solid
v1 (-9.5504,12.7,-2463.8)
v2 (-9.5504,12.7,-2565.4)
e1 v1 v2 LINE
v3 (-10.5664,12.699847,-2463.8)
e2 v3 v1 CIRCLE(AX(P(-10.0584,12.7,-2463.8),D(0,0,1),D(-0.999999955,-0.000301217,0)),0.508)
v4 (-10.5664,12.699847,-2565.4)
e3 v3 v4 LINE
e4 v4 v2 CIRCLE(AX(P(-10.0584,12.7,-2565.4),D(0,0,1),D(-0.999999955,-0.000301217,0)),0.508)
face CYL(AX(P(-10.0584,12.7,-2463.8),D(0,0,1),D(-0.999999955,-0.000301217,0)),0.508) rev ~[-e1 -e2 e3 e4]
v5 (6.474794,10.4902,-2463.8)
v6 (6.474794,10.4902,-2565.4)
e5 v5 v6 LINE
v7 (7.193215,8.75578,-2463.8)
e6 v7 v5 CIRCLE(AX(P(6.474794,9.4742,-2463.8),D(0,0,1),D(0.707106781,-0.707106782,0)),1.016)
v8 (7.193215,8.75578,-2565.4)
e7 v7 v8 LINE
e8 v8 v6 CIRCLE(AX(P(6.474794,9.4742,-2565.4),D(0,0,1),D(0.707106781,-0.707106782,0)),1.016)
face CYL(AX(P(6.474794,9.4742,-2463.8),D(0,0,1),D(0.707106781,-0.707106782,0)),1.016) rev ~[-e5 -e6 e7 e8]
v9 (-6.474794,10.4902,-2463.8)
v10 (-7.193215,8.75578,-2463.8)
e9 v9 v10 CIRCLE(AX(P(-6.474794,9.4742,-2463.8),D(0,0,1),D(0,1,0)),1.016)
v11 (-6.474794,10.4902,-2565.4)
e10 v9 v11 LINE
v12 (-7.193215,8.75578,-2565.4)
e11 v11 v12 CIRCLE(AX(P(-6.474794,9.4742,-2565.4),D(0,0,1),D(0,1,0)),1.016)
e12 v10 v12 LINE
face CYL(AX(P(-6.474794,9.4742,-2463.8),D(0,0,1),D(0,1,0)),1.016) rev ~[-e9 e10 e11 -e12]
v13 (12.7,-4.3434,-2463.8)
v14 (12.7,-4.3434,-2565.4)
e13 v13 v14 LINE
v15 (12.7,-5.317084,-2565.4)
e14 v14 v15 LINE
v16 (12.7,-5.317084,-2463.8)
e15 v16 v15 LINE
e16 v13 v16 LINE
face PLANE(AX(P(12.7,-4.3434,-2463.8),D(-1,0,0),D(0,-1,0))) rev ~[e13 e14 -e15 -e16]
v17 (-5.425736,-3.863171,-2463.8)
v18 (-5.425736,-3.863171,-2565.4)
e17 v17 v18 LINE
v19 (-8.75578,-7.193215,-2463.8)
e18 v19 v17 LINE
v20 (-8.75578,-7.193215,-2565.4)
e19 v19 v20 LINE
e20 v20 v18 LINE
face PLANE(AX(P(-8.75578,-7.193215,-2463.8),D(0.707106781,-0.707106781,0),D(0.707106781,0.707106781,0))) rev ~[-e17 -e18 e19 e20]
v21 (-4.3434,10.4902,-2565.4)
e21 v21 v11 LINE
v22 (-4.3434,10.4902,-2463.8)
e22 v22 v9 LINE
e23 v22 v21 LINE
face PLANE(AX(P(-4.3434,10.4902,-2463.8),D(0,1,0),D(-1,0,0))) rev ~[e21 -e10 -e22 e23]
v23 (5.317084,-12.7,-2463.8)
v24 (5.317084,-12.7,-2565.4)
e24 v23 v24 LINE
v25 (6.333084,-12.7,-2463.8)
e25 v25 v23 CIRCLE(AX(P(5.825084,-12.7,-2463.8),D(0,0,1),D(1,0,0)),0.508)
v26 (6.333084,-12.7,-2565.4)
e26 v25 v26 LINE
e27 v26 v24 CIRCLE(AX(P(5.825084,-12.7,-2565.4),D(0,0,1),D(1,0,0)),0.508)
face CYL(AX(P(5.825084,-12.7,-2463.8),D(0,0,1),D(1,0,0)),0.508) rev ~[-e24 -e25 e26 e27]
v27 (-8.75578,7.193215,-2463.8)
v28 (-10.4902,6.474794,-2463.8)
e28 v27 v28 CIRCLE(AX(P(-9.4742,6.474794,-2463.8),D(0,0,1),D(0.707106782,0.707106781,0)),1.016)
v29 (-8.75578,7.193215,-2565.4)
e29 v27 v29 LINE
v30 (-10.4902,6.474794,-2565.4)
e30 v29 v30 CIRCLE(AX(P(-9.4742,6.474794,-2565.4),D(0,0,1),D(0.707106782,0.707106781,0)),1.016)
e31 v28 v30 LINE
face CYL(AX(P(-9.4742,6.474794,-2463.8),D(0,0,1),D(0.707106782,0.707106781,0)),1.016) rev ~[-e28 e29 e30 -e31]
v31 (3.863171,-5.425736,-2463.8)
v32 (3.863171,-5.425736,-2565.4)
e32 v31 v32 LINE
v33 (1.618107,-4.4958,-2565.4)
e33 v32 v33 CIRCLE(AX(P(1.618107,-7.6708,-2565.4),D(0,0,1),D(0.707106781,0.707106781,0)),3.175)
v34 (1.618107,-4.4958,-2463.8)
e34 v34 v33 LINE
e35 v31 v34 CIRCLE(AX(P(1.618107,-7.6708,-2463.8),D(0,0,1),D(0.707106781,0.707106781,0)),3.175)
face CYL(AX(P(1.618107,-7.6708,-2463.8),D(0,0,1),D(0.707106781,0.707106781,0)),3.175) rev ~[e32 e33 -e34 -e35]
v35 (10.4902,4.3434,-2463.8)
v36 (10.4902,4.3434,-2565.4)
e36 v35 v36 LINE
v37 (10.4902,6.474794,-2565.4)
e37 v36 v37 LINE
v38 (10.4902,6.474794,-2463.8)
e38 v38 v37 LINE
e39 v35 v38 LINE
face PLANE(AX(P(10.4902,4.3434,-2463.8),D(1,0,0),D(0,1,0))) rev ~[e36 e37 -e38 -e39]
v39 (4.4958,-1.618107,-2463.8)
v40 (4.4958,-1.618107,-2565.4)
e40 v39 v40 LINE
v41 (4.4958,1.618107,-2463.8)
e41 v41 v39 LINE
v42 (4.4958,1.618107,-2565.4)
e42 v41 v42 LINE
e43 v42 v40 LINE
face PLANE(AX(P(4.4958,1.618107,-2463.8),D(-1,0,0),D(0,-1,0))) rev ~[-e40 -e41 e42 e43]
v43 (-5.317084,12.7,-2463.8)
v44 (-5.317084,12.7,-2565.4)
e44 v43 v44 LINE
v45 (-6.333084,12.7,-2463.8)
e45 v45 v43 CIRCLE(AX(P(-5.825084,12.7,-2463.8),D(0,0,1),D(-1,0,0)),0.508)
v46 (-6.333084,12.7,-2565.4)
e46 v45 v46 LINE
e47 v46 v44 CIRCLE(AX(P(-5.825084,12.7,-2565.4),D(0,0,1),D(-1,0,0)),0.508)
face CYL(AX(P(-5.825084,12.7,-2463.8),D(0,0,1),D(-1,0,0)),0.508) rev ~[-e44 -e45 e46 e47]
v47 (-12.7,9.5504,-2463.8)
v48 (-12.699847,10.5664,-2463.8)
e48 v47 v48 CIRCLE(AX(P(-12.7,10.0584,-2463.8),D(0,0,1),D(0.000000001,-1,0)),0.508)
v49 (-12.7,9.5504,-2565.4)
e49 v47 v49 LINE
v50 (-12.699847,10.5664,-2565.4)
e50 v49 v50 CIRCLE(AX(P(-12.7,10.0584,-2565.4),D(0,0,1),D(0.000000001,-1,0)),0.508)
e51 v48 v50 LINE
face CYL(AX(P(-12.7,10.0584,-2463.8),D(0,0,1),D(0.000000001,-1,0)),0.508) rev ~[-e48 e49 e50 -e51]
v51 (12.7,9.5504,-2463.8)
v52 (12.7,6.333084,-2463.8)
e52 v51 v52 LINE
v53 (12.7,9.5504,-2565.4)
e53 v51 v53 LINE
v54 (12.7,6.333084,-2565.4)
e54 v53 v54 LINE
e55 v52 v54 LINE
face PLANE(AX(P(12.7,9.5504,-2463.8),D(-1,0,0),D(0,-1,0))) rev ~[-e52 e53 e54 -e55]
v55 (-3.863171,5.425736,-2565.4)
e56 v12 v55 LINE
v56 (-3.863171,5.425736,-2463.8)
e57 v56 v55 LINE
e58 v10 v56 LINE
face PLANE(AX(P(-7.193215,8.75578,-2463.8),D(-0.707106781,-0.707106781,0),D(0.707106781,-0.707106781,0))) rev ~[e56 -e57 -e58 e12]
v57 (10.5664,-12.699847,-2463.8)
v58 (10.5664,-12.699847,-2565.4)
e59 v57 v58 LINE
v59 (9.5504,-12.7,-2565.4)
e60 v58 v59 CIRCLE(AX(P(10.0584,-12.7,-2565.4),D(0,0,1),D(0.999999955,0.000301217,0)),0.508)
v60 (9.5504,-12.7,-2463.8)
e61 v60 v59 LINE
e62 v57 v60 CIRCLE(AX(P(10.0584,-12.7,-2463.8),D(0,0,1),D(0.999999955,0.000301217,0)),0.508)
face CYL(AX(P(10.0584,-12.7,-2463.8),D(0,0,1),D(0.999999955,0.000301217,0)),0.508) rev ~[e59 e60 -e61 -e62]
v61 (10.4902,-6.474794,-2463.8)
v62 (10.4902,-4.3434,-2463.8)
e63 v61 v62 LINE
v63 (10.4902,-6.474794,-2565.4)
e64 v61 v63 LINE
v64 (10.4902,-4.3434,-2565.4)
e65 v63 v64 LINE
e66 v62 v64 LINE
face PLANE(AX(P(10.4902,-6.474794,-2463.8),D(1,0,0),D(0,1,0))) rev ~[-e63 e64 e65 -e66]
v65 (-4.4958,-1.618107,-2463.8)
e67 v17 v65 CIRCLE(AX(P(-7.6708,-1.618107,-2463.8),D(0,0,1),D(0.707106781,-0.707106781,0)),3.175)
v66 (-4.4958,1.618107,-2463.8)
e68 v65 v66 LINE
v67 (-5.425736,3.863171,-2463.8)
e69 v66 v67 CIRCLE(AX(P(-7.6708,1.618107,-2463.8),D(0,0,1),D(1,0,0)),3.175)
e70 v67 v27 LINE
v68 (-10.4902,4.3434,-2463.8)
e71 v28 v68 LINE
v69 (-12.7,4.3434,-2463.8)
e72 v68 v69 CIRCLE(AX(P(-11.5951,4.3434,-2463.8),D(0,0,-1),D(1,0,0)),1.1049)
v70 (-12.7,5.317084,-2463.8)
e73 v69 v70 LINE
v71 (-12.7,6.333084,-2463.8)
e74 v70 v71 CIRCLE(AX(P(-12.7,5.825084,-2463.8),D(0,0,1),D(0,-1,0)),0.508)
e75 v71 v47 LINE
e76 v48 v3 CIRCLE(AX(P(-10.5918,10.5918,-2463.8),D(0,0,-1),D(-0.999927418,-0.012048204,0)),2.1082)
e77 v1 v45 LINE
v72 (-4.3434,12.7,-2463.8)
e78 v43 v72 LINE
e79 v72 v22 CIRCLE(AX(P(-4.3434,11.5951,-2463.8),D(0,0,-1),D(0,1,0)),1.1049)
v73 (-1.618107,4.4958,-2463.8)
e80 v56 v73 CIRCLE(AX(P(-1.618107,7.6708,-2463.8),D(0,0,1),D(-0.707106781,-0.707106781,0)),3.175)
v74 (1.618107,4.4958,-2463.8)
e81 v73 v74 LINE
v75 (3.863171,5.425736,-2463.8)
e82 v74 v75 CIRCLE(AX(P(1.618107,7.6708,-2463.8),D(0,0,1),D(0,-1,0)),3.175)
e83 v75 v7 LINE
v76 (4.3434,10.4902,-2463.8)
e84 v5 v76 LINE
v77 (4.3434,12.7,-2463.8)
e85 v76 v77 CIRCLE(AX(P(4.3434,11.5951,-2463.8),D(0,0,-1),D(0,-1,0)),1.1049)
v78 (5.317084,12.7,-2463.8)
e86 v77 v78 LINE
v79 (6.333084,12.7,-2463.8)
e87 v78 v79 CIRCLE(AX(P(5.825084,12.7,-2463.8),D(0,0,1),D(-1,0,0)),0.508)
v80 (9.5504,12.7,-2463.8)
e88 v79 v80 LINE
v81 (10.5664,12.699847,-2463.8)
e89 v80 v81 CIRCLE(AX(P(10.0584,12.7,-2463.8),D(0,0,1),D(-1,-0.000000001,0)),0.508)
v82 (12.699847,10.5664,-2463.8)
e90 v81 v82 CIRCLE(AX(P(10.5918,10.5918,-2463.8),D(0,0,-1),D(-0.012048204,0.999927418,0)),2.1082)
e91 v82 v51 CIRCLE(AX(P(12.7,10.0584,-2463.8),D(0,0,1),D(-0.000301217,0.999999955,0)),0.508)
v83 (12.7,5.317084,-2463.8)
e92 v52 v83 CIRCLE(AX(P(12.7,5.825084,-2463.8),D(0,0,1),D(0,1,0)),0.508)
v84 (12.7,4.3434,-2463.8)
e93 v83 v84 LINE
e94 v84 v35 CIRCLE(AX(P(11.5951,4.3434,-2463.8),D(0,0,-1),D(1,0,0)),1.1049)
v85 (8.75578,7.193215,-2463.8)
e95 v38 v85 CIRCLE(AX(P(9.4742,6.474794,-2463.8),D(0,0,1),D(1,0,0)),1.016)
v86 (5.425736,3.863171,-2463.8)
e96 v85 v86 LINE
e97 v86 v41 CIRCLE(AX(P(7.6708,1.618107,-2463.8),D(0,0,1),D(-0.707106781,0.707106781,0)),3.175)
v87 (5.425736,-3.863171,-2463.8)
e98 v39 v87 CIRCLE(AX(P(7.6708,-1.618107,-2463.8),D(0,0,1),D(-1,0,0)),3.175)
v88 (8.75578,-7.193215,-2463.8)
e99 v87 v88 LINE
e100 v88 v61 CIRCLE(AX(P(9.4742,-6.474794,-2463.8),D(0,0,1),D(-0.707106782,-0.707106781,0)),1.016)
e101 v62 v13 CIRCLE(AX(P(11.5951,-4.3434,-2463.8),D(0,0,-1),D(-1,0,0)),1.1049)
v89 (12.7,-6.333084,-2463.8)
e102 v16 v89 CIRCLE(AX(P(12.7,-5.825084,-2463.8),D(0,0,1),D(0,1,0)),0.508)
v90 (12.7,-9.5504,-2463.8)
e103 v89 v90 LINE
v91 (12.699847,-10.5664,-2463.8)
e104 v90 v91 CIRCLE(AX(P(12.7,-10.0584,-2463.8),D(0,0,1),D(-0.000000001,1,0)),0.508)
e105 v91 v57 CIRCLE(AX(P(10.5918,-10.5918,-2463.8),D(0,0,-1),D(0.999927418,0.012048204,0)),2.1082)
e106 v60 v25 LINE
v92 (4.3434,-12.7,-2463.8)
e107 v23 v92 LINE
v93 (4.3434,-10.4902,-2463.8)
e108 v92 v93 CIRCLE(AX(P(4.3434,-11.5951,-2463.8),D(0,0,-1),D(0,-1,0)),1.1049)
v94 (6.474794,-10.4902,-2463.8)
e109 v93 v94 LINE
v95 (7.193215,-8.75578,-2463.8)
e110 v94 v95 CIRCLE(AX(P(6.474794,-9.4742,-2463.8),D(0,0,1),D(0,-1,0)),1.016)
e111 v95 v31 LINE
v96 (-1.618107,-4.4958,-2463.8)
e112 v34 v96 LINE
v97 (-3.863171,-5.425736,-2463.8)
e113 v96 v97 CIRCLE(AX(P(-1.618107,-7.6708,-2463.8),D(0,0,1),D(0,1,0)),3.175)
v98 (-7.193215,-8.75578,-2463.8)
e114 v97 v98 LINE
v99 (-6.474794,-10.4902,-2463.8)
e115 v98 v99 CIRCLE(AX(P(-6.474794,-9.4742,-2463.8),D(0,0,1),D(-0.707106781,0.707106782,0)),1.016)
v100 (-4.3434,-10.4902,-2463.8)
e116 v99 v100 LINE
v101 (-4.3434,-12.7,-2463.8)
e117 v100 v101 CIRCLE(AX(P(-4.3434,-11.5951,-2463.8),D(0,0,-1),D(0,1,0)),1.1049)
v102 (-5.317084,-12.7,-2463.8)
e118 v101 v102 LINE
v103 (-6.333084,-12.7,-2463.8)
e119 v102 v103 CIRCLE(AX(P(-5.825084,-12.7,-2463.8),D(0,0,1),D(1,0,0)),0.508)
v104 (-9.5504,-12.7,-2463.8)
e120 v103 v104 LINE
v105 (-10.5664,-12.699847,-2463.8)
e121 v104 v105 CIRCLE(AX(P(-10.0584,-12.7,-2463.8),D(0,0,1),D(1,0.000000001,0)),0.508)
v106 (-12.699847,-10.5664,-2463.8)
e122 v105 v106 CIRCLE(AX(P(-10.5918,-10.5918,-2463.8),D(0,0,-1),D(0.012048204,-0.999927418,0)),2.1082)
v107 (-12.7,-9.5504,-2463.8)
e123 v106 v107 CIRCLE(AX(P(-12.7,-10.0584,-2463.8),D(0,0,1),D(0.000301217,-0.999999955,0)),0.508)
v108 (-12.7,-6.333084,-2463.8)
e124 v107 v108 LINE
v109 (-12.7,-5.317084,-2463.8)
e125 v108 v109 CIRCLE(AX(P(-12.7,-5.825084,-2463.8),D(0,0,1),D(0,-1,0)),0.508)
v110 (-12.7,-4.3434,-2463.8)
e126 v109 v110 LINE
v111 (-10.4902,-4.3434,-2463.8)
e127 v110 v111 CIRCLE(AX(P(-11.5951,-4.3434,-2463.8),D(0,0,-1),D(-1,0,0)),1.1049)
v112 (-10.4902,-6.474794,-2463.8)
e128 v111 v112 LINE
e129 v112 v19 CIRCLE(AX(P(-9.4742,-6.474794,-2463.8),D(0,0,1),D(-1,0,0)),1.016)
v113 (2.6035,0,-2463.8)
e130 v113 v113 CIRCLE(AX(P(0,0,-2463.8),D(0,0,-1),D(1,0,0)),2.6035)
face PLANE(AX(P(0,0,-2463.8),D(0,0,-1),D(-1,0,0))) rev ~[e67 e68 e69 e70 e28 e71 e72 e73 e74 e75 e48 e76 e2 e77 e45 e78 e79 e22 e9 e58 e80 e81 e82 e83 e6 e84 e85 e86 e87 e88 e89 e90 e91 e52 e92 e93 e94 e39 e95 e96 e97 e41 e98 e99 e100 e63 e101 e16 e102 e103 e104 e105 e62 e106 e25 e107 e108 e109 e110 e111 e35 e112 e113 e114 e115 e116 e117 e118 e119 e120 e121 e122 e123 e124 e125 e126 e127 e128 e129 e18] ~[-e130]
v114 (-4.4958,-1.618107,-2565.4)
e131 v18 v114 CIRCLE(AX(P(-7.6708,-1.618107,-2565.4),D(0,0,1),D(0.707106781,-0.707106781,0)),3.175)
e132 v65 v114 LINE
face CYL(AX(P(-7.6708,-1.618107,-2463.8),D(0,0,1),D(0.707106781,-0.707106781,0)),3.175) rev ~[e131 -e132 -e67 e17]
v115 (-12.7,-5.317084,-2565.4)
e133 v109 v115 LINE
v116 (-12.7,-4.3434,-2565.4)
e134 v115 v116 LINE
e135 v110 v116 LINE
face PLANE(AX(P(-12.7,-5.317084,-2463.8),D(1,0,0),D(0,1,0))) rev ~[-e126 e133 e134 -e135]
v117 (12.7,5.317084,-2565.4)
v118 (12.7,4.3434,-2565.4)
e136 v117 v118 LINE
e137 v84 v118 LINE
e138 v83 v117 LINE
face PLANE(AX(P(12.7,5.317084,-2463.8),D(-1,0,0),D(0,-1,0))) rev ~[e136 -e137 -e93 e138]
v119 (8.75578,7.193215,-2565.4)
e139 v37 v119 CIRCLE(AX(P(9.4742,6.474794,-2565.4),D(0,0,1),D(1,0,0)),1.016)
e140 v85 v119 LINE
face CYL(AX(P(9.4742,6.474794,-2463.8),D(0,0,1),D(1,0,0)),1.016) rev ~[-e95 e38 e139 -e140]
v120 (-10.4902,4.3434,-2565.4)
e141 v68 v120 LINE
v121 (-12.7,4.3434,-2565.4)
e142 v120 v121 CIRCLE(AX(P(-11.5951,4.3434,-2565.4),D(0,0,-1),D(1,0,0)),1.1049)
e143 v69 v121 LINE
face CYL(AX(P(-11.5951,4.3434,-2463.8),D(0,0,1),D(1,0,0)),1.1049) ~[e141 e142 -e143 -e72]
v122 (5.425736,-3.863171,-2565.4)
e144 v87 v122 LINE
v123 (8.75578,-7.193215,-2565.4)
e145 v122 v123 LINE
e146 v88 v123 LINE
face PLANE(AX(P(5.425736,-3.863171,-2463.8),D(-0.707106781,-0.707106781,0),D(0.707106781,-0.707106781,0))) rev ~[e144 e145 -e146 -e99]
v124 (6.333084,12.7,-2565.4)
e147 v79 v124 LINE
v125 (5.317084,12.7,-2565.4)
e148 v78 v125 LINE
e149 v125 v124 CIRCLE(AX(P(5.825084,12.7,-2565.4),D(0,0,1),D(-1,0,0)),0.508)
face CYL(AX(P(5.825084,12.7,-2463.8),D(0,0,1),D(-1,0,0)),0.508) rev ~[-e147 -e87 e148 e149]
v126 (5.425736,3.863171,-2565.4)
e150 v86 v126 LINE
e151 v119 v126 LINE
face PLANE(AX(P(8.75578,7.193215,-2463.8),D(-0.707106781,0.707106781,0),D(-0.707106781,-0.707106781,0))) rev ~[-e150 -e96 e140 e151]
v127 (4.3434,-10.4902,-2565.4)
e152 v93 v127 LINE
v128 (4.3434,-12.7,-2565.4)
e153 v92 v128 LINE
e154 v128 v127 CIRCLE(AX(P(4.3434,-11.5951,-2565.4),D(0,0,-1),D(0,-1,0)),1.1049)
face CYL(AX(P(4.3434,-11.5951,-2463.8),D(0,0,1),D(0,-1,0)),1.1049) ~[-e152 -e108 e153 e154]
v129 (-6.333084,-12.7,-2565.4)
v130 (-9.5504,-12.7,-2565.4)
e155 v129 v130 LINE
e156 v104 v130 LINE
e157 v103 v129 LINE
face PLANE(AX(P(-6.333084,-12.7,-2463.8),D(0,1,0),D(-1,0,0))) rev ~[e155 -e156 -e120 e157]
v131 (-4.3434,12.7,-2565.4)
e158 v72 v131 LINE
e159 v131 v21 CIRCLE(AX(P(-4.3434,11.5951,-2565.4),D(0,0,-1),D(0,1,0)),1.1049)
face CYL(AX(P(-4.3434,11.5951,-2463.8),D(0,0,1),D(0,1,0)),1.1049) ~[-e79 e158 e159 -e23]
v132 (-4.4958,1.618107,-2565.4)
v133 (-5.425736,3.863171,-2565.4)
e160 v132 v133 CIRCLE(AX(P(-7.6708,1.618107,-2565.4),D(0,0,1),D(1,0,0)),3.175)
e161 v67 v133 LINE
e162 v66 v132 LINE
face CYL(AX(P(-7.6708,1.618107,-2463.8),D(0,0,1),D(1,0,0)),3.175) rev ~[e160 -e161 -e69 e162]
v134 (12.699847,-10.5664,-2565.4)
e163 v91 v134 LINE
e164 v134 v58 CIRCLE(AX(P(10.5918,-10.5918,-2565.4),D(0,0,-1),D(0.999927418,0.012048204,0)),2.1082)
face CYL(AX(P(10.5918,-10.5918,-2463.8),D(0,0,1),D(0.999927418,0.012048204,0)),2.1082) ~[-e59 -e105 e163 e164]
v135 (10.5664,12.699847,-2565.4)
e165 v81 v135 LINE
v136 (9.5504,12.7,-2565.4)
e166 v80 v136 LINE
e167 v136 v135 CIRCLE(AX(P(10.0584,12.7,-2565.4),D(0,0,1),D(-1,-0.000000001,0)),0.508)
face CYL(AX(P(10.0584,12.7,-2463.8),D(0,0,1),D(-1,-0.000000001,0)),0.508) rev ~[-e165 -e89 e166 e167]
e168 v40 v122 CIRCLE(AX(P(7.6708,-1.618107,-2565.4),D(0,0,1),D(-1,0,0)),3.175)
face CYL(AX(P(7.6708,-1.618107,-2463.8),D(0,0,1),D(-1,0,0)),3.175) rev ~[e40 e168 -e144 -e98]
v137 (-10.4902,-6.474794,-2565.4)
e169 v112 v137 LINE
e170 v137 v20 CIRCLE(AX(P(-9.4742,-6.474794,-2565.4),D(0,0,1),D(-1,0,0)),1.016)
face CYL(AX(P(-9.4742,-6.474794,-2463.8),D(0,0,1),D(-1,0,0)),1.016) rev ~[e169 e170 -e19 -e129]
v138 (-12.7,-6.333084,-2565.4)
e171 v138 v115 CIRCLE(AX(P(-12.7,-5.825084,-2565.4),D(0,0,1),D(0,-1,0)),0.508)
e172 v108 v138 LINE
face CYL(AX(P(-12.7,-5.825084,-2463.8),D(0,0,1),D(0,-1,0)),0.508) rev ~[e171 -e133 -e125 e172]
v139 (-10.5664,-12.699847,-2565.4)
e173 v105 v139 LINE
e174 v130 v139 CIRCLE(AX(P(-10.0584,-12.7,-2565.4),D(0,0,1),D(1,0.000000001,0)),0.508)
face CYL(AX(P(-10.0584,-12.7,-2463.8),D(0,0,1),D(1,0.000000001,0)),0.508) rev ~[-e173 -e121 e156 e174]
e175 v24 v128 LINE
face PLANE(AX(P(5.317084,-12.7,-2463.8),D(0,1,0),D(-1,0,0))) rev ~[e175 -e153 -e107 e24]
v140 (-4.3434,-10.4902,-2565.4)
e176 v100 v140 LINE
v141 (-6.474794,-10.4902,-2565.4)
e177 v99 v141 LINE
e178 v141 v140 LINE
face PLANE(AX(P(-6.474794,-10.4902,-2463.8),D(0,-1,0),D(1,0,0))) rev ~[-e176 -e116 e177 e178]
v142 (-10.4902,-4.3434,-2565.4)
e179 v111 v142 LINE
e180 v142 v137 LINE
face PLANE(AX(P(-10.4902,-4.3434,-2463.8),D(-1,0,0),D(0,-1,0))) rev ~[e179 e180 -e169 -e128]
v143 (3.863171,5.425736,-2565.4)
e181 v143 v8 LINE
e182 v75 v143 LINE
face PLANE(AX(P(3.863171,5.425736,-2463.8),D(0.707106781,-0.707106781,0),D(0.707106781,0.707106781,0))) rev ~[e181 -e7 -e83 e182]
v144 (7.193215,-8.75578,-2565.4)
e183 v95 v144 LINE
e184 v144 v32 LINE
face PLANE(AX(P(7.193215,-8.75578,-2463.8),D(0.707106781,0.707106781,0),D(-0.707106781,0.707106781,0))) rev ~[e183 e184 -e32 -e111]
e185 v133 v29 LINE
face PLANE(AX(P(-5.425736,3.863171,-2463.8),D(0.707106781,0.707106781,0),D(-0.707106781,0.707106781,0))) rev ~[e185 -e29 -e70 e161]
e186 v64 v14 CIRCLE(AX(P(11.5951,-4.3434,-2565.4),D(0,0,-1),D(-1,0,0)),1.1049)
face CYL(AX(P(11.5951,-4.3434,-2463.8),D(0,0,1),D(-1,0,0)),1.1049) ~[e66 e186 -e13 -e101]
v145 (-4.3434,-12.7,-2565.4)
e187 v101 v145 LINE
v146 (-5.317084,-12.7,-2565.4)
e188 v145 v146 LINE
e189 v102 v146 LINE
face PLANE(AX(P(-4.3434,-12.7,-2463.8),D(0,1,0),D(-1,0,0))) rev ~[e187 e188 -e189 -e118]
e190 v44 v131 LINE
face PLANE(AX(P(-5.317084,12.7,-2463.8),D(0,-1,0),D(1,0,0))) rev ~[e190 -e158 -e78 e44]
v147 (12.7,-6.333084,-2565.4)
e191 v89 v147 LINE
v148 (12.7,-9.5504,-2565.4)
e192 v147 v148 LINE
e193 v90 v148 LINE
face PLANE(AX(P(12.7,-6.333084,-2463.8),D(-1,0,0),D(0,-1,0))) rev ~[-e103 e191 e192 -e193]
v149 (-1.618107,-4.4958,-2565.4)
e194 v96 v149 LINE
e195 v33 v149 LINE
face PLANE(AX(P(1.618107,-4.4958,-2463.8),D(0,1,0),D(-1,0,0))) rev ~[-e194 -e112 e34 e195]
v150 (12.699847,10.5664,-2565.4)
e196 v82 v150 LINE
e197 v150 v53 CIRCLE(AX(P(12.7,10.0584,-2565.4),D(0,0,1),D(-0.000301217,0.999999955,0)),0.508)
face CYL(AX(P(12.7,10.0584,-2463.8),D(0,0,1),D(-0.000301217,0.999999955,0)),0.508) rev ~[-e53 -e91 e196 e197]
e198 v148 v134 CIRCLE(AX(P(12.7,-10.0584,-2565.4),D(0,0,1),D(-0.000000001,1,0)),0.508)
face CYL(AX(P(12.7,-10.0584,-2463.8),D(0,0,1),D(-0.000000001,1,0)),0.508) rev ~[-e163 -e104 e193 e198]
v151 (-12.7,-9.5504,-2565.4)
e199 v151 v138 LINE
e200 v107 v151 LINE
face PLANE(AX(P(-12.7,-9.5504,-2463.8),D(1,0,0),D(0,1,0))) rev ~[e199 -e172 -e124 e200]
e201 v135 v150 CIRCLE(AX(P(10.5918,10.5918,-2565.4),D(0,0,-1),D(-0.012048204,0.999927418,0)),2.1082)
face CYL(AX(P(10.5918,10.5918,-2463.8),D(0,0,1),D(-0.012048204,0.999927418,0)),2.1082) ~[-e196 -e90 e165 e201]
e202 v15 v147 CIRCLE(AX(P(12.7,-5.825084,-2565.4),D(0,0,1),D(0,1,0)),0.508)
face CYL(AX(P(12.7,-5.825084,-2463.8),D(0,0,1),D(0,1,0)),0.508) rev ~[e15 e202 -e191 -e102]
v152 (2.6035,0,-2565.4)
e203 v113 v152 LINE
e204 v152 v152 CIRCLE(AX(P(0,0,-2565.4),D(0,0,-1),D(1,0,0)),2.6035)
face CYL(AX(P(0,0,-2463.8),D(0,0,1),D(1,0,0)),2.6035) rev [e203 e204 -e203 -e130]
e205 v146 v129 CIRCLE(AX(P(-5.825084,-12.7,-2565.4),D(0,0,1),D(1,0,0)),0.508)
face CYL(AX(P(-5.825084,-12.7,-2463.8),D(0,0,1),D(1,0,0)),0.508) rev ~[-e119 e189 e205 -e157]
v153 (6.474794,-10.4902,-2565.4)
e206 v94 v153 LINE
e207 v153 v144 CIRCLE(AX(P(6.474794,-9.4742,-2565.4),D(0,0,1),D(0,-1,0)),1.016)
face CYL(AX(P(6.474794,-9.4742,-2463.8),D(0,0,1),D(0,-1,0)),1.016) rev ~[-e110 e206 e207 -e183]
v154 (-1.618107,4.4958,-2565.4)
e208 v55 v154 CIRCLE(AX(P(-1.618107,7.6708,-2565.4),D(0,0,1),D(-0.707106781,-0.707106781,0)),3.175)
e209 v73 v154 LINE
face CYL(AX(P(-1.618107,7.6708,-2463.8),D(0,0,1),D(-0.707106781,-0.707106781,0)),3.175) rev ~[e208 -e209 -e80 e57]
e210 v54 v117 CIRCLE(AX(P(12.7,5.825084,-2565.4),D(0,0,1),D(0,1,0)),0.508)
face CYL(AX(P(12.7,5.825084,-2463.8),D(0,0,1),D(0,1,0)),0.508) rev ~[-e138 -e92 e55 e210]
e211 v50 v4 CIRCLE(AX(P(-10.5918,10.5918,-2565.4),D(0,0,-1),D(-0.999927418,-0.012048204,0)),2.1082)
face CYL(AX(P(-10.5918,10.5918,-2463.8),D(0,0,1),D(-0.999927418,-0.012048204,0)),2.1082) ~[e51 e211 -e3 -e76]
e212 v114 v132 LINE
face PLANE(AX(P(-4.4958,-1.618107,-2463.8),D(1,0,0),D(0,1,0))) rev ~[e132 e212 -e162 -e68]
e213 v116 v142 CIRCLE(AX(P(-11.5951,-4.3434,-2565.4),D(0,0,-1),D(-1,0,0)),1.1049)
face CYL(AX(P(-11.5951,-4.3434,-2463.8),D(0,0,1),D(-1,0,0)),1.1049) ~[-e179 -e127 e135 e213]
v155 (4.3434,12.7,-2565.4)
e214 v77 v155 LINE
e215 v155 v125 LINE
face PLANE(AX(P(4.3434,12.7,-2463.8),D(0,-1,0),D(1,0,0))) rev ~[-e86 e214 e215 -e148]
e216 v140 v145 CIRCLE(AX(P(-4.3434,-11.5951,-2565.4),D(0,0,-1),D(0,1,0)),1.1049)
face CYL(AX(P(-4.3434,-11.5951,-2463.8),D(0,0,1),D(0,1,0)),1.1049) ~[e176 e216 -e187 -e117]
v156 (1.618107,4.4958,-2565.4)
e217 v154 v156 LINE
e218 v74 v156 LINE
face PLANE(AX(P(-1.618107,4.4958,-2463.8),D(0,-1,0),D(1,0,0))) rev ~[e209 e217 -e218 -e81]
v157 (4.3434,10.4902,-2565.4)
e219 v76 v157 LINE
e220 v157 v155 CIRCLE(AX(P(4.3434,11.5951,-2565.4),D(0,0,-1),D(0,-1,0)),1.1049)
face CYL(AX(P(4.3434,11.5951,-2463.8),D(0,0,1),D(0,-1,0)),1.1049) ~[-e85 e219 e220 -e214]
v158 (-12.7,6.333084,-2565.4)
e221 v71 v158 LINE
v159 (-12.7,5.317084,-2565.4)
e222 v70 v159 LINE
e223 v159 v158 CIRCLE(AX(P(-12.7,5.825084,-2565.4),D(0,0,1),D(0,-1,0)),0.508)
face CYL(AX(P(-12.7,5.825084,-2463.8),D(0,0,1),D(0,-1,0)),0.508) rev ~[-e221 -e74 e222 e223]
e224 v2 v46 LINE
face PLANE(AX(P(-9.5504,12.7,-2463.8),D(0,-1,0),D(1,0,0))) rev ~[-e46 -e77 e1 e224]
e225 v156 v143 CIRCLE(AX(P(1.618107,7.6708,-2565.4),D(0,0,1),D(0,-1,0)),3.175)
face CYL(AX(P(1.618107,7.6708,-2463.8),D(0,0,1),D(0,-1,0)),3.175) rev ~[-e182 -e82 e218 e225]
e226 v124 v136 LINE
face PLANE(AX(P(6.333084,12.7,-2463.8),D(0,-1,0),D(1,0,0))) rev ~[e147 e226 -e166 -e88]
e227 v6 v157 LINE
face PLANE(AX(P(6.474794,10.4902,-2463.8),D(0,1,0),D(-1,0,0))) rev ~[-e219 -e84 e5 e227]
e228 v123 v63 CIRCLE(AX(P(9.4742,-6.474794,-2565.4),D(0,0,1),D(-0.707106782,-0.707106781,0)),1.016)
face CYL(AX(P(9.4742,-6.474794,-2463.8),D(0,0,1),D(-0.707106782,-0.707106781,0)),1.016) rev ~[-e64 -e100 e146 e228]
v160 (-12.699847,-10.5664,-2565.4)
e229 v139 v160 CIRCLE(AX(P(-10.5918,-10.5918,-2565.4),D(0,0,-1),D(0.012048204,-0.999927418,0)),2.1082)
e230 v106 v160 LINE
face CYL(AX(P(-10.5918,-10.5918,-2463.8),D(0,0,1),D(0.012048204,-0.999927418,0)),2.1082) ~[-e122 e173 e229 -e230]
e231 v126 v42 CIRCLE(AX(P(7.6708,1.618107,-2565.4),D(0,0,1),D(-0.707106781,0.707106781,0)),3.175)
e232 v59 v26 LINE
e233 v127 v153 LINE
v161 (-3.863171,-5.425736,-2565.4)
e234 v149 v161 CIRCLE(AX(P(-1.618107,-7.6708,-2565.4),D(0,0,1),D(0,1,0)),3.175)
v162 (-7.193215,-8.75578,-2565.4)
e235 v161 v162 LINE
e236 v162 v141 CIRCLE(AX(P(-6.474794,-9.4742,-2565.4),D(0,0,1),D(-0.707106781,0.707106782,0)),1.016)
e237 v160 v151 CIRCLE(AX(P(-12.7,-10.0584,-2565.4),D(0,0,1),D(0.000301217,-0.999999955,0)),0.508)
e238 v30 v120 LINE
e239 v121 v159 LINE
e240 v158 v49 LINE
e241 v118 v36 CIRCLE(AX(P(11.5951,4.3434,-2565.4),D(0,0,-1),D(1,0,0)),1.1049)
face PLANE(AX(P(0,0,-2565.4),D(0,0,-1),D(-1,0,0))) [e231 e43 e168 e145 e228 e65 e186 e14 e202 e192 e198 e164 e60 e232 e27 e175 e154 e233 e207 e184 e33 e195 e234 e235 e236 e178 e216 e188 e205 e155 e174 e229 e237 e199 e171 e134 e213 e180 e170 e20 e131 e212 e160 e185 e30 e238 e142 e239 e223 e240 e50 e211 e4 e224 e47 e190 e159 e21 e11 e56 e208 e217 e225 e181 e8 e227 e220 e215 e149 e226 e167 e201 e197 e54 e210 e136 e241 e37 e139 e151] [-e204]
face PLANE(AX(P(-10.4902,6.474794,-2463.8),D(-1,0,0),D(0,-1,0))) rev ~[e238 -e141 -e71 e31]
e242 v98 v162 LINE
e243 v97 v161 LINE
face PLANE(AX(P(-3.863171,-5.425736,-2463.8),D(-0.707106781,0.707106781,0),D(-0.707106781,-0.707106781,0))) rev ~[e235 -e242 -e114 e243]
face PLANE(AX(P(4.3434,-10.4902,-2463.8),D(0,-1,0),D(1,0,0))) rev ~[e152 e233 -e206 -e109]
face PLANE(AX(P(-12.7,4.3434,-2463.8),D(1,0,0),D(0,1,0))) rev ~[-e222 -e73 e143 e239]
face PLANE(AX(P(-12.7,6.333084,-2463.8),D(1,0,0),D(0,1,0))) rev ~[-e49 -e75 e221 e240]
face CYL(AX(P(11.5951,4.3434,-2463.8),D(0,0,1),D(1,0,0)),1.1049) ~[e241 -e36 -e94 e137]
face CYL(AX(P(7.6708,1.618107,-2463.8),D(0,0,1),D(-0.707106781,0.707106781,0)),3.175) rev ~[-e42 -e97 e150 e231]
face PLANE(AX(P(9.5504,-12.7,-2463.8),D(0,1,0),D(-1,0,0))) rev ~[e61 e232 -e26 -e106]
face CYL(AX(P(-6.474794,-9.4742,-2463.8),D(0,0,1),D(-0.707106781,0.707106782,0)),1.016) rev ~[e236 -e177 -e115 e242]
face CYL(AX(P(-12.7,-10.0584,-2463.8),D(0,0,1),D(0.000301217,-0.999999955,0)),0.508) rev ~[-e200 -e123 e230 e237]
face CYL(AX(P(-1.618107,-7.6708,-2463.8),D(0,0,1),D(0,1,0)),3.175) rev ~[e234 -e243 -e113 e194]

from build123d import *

# Parameters (mm, degrees)
SKETCH1_R           = 2.6035
BOSS_EXTRUDE1_DEPTH = 101.6


with BuildPart() as part:
    # Sketch1 → Boss-Extrude1 (new body)
    with BuildSketch(Plane(origin=(0, 0, -2463.8), x_dir=(-1, 0, 0), z_dir=(0, 0, -1))):
        with BuildLine():
            Line((12.7, -9.5504), (12.7, -6.3330836))
            ThreePointArc((12.7, -6.3330836), (12.192, -5.8250836), (12.7, -5.3170836))
            Line((12.7, -5.3170836), (12.7, -4.3434))
            ThreePointArc((12.7, -4.3434), (11.5951, -3.2385), (10.4902, -4.3434))
            Line((10.4902, -4.3434), (10.4902, -6.474794456))
            ThreePointArc((10.4902, -6.474794456), (9.863006367, -7.413456061), (8.75577951, -7.193214945))
            Line((8.75577951, -7.193214945), (5.42573597, -3.863171405))
            ThreePointArc((5.42573597, -3.863171405), (4.737482484, -2.833127272), (4.4958, -1.618107374))
            Line((4.4958, -1.618107374), (4.4958, 1.618107374))
            ThreePointArc((4.4958, 1.618107374), (4.737482484, 2.833127272), (5.42573597, 3.863171405))
            Line((5.42573597, 3.863171405), (8.75577951, 7.193214945))
            ThreePointArc((8.75577951, 7.193214945), (9.863006367, 7.413456061), (10.4902, 6.474794456))
            Line((10.4902, 6.474794456), (10.4902, 4.343399971))
            ThreePointArc((10.4902, 4.343399971), (11.5951, 3.238499971), (12.7, 4.343399971))
            Line((12.7, 4.343399971), (12.7, 5.3170836))
            ThreePointArc((12.7, 5.3170836), (12.192, 5.8250836), (12.7, 6.3330836))
            Line((12.7, 6.3330836), (12.7, 9.5504))
            ThreePointArc((12.7, 9.5504), (12.192000006, 10.058323491), (12.699846982, 10.566399977))
            ThreePointArc((12.699846982, 10.566399977), (12.082522516, 12.082522516), (10.566399977, 12.699846982))
            ThreePointArc((10.566399977, 12.699846982), (10.058323491, 12.192000006), (9.5504, 12.7))
            Line((9.5504, 12.7), (6.3330836, 12.7))
            ThreePointArc((6.3330836, 12.7), (5.8250836, 12.192), (5.3170836, 12.7))
            Line((5.3170836, 12.7), (4.3434, 12.7))
            ThreePointArc((4.3434, 12.7), (3.2385, 11.5951), (4.3434, 10.4902))
            Line((4.3434, 10.4902), (6.474794456, 10.4902))
            ThreePointArc((6.474794456, 10.4902), (7.413456061, 9.863006367), (7.193214945, 8.75577951))
            Line((7.193214945, 8.75577951), (3.863171405, 5.42573597))
            ThreePointArc((3.863171405, 5.42573597), (2.833127272, 4.737482484), (1.618107374, 4.4958))
            Line((1.618107374, 4.4958), (-1.618107374, 4.4958))
            ThreePointArc((-1.618107374, 4.4958), (-2.833127272, 4.737482484), (-3.863171405, 5.42573597))
            Line((-3.863171405, 5.42573597), (-7.193214945, 8.75577951))
            ThreePointArc((-7.193214945, 8.75577951), (-7.413456061, 9.863006367), (-6.474794456, 10.4902))
            Line((-6.474794456, 10.4902), (-4.343399971, 10.4902))
            ThreePointArc((-4.343399971, 10.4902), (-3.238499971, 11.5951), (-4.343399971, 12.7))
            Line((-4.343399971, 12.7), (-5.3170836, 12.7))
            ThreePointArc((-5.3170836, 12.7), (-5.8250836, 12.192), (-6.3330836, 12.7))
            Line((-6.3330836, 12.7), (-9.5504, 12.7))
            ThreePointArc((-9.5504, 12.7), (-10.058323491, 12.192000006), (-10.566399977, 12.699846982))
            ThreePointArc((-10.566399977, 12.699846982), (-12.082522516, 12.082522516), (-12.699846982, 10.566399977))
            ThreePointArc((-12.699846982, 10.566399977), (-12.192000006, 10.058323491), (-12.7, 9.5504))
            Line((-12.7, 9.5504), (-12.7, 6.3330836))
            ThreePointArc((-12.7, 6.3330836), (-12.192, 5.8250836), (-12.7, 5.3170836))
            Line((-12.7, 5.3170836), (-12.7, 4.3434))
            ThreePointArc((-12.7, 4.3434), (-11.5951, 3.2385), (-10.4902, 4.3434))
            Line((-10.4902, 4.3434), (-10.4902, 6.474794456))
            ThreePointArc((-10.4902, 6.474794456), (-9.863006367, 7.413456061), (-8.75577951, 7.193214945))
            Line((-8.75577951, 7.193214945), (-5.42573597, 3.863171405))
            ThreePointArc((-5.42573597, 3.863171405), (-4.737482484, 2.833127272), (-4.4958, 1.618107374))
            Line((-4.4958, 1.618107374), (-4.4958, -1.618107374))
            ThreePointArc((-4.4958, -1.618107374), (-4.737482484, -2.833127272), (-5.42573597, -3.863171405))
            Line((-5.42573597, -3.863171405), (-8.75577951, -7.193214945))
            ThreePointArc((-8.75577951, -7.193214945), (-9.863006367, -7.413456061), (-10.4902, -6.474794456))
            Line((-10.4902, -6.474794456), (-10.4902, -4.343399971))
            ThreePointArc((-10.4902, -4.343399971), (-11.5951, -3.238499971), (-12.7, -4.343399971))
            Line((-12.7, -4.343399971), (-12.7, -5.3170836))
            ThreePointArc((-12.7, -5.3170836), (-12.192, -5.8250836), (-12.7, -6.3330836))
            Line((-12.7, -6.3330836), (-12.7, -9.5504))
            ThreePointArc((-12.7, -9.5504), (-12.192000006, -10.058323491), (-12.699846982, -10.566399977))
            ThreePointArc((-12.699846982, -10.566399977), (-12.082522516, -12.082522516), (-10.566399977, -12.699846982))
            ThreePointArc((-10.566399977, -12.699846982), (-10.058323491, -12.192000006), (-9.5504, -12.7))
            Line((-9.5504, -12.7), (-6.3330836, -12.7))
            ThreePointArc((-6.3330836, -12.7), (-5.8250836, -12.192), (-5.3170836, -12.7))
            Line((-5.3170836, -12.7), (-4.3434, -12.7))
            ThreePointArc((-4.3434, -12.7), (-3.2385, -11.5951), (-4.3434, -10.4902))
            Line((-4.3434, -10.4902), (-6.474794456, -10.4902))
            ThreePointArc((-6.474794456, -10.4902), (-7.413456061, -9.863006367), (-7.193214945, -8.75577951))
            Line((-7.193214945, -8.75577951), (-3.863171405, -5.42573597))
            ThreePointArc((-3.863171405, -5.42573597), (-2.833127272, -4.737482484), (-1.618107374, -4.4958))
            Line((-1.618107374, -4.4958), (1.618107374, -4.4958))
            ThreePointArc((1.618107374, -4.4958), (2.833127272, -4.737482484), (3.863171405, -5.42573597))
            Line((3.863171405, -5.42573597), (7.193214945, -8.75577951))
            ThreePointArc((7.193214945, -8.75577951), (7.413456061, -9.863006367), (6.474794456, -10.4902))
            Line((6.474794456, -10.4902), (4.343399971, -10.4902))
            ThreePointArc((4.343399971, -10.4902), (3.238499971, -11.5951), (4.343399971, -12.7))
            Line((4.343399971, -12.7), (5.3170836, -12.7))
            ThreePointArc((5.3170836, -12.7), (5.8250836, -12.192), (6.3330836, -12.7))
            Line((6.3330836, -12.7), (9.5504, -12.7))
            ThreePointArc((9.5504, -12.7), (10.058323491, -12.192000006), (10.566399977, -12.699846982))
            ThreePointArc((10.566399977, -12.699846982), (12.082522516, -12.082522516), (12.699846982, -10.566399977))
            ThreePointArc((12.699846982, -10.566399977), (12.192000006, -10.058323491), (12.7, -9.5504))
        make_face()
        with Locations(Location((0, 0, 0), (0, 0, 180))):
            Circle(SKETCH1_R, mode=Mode.SUBTRACT)
    extrude(amount=BOSS_EXTRUDE1_DEPTH)


solid = part.part
